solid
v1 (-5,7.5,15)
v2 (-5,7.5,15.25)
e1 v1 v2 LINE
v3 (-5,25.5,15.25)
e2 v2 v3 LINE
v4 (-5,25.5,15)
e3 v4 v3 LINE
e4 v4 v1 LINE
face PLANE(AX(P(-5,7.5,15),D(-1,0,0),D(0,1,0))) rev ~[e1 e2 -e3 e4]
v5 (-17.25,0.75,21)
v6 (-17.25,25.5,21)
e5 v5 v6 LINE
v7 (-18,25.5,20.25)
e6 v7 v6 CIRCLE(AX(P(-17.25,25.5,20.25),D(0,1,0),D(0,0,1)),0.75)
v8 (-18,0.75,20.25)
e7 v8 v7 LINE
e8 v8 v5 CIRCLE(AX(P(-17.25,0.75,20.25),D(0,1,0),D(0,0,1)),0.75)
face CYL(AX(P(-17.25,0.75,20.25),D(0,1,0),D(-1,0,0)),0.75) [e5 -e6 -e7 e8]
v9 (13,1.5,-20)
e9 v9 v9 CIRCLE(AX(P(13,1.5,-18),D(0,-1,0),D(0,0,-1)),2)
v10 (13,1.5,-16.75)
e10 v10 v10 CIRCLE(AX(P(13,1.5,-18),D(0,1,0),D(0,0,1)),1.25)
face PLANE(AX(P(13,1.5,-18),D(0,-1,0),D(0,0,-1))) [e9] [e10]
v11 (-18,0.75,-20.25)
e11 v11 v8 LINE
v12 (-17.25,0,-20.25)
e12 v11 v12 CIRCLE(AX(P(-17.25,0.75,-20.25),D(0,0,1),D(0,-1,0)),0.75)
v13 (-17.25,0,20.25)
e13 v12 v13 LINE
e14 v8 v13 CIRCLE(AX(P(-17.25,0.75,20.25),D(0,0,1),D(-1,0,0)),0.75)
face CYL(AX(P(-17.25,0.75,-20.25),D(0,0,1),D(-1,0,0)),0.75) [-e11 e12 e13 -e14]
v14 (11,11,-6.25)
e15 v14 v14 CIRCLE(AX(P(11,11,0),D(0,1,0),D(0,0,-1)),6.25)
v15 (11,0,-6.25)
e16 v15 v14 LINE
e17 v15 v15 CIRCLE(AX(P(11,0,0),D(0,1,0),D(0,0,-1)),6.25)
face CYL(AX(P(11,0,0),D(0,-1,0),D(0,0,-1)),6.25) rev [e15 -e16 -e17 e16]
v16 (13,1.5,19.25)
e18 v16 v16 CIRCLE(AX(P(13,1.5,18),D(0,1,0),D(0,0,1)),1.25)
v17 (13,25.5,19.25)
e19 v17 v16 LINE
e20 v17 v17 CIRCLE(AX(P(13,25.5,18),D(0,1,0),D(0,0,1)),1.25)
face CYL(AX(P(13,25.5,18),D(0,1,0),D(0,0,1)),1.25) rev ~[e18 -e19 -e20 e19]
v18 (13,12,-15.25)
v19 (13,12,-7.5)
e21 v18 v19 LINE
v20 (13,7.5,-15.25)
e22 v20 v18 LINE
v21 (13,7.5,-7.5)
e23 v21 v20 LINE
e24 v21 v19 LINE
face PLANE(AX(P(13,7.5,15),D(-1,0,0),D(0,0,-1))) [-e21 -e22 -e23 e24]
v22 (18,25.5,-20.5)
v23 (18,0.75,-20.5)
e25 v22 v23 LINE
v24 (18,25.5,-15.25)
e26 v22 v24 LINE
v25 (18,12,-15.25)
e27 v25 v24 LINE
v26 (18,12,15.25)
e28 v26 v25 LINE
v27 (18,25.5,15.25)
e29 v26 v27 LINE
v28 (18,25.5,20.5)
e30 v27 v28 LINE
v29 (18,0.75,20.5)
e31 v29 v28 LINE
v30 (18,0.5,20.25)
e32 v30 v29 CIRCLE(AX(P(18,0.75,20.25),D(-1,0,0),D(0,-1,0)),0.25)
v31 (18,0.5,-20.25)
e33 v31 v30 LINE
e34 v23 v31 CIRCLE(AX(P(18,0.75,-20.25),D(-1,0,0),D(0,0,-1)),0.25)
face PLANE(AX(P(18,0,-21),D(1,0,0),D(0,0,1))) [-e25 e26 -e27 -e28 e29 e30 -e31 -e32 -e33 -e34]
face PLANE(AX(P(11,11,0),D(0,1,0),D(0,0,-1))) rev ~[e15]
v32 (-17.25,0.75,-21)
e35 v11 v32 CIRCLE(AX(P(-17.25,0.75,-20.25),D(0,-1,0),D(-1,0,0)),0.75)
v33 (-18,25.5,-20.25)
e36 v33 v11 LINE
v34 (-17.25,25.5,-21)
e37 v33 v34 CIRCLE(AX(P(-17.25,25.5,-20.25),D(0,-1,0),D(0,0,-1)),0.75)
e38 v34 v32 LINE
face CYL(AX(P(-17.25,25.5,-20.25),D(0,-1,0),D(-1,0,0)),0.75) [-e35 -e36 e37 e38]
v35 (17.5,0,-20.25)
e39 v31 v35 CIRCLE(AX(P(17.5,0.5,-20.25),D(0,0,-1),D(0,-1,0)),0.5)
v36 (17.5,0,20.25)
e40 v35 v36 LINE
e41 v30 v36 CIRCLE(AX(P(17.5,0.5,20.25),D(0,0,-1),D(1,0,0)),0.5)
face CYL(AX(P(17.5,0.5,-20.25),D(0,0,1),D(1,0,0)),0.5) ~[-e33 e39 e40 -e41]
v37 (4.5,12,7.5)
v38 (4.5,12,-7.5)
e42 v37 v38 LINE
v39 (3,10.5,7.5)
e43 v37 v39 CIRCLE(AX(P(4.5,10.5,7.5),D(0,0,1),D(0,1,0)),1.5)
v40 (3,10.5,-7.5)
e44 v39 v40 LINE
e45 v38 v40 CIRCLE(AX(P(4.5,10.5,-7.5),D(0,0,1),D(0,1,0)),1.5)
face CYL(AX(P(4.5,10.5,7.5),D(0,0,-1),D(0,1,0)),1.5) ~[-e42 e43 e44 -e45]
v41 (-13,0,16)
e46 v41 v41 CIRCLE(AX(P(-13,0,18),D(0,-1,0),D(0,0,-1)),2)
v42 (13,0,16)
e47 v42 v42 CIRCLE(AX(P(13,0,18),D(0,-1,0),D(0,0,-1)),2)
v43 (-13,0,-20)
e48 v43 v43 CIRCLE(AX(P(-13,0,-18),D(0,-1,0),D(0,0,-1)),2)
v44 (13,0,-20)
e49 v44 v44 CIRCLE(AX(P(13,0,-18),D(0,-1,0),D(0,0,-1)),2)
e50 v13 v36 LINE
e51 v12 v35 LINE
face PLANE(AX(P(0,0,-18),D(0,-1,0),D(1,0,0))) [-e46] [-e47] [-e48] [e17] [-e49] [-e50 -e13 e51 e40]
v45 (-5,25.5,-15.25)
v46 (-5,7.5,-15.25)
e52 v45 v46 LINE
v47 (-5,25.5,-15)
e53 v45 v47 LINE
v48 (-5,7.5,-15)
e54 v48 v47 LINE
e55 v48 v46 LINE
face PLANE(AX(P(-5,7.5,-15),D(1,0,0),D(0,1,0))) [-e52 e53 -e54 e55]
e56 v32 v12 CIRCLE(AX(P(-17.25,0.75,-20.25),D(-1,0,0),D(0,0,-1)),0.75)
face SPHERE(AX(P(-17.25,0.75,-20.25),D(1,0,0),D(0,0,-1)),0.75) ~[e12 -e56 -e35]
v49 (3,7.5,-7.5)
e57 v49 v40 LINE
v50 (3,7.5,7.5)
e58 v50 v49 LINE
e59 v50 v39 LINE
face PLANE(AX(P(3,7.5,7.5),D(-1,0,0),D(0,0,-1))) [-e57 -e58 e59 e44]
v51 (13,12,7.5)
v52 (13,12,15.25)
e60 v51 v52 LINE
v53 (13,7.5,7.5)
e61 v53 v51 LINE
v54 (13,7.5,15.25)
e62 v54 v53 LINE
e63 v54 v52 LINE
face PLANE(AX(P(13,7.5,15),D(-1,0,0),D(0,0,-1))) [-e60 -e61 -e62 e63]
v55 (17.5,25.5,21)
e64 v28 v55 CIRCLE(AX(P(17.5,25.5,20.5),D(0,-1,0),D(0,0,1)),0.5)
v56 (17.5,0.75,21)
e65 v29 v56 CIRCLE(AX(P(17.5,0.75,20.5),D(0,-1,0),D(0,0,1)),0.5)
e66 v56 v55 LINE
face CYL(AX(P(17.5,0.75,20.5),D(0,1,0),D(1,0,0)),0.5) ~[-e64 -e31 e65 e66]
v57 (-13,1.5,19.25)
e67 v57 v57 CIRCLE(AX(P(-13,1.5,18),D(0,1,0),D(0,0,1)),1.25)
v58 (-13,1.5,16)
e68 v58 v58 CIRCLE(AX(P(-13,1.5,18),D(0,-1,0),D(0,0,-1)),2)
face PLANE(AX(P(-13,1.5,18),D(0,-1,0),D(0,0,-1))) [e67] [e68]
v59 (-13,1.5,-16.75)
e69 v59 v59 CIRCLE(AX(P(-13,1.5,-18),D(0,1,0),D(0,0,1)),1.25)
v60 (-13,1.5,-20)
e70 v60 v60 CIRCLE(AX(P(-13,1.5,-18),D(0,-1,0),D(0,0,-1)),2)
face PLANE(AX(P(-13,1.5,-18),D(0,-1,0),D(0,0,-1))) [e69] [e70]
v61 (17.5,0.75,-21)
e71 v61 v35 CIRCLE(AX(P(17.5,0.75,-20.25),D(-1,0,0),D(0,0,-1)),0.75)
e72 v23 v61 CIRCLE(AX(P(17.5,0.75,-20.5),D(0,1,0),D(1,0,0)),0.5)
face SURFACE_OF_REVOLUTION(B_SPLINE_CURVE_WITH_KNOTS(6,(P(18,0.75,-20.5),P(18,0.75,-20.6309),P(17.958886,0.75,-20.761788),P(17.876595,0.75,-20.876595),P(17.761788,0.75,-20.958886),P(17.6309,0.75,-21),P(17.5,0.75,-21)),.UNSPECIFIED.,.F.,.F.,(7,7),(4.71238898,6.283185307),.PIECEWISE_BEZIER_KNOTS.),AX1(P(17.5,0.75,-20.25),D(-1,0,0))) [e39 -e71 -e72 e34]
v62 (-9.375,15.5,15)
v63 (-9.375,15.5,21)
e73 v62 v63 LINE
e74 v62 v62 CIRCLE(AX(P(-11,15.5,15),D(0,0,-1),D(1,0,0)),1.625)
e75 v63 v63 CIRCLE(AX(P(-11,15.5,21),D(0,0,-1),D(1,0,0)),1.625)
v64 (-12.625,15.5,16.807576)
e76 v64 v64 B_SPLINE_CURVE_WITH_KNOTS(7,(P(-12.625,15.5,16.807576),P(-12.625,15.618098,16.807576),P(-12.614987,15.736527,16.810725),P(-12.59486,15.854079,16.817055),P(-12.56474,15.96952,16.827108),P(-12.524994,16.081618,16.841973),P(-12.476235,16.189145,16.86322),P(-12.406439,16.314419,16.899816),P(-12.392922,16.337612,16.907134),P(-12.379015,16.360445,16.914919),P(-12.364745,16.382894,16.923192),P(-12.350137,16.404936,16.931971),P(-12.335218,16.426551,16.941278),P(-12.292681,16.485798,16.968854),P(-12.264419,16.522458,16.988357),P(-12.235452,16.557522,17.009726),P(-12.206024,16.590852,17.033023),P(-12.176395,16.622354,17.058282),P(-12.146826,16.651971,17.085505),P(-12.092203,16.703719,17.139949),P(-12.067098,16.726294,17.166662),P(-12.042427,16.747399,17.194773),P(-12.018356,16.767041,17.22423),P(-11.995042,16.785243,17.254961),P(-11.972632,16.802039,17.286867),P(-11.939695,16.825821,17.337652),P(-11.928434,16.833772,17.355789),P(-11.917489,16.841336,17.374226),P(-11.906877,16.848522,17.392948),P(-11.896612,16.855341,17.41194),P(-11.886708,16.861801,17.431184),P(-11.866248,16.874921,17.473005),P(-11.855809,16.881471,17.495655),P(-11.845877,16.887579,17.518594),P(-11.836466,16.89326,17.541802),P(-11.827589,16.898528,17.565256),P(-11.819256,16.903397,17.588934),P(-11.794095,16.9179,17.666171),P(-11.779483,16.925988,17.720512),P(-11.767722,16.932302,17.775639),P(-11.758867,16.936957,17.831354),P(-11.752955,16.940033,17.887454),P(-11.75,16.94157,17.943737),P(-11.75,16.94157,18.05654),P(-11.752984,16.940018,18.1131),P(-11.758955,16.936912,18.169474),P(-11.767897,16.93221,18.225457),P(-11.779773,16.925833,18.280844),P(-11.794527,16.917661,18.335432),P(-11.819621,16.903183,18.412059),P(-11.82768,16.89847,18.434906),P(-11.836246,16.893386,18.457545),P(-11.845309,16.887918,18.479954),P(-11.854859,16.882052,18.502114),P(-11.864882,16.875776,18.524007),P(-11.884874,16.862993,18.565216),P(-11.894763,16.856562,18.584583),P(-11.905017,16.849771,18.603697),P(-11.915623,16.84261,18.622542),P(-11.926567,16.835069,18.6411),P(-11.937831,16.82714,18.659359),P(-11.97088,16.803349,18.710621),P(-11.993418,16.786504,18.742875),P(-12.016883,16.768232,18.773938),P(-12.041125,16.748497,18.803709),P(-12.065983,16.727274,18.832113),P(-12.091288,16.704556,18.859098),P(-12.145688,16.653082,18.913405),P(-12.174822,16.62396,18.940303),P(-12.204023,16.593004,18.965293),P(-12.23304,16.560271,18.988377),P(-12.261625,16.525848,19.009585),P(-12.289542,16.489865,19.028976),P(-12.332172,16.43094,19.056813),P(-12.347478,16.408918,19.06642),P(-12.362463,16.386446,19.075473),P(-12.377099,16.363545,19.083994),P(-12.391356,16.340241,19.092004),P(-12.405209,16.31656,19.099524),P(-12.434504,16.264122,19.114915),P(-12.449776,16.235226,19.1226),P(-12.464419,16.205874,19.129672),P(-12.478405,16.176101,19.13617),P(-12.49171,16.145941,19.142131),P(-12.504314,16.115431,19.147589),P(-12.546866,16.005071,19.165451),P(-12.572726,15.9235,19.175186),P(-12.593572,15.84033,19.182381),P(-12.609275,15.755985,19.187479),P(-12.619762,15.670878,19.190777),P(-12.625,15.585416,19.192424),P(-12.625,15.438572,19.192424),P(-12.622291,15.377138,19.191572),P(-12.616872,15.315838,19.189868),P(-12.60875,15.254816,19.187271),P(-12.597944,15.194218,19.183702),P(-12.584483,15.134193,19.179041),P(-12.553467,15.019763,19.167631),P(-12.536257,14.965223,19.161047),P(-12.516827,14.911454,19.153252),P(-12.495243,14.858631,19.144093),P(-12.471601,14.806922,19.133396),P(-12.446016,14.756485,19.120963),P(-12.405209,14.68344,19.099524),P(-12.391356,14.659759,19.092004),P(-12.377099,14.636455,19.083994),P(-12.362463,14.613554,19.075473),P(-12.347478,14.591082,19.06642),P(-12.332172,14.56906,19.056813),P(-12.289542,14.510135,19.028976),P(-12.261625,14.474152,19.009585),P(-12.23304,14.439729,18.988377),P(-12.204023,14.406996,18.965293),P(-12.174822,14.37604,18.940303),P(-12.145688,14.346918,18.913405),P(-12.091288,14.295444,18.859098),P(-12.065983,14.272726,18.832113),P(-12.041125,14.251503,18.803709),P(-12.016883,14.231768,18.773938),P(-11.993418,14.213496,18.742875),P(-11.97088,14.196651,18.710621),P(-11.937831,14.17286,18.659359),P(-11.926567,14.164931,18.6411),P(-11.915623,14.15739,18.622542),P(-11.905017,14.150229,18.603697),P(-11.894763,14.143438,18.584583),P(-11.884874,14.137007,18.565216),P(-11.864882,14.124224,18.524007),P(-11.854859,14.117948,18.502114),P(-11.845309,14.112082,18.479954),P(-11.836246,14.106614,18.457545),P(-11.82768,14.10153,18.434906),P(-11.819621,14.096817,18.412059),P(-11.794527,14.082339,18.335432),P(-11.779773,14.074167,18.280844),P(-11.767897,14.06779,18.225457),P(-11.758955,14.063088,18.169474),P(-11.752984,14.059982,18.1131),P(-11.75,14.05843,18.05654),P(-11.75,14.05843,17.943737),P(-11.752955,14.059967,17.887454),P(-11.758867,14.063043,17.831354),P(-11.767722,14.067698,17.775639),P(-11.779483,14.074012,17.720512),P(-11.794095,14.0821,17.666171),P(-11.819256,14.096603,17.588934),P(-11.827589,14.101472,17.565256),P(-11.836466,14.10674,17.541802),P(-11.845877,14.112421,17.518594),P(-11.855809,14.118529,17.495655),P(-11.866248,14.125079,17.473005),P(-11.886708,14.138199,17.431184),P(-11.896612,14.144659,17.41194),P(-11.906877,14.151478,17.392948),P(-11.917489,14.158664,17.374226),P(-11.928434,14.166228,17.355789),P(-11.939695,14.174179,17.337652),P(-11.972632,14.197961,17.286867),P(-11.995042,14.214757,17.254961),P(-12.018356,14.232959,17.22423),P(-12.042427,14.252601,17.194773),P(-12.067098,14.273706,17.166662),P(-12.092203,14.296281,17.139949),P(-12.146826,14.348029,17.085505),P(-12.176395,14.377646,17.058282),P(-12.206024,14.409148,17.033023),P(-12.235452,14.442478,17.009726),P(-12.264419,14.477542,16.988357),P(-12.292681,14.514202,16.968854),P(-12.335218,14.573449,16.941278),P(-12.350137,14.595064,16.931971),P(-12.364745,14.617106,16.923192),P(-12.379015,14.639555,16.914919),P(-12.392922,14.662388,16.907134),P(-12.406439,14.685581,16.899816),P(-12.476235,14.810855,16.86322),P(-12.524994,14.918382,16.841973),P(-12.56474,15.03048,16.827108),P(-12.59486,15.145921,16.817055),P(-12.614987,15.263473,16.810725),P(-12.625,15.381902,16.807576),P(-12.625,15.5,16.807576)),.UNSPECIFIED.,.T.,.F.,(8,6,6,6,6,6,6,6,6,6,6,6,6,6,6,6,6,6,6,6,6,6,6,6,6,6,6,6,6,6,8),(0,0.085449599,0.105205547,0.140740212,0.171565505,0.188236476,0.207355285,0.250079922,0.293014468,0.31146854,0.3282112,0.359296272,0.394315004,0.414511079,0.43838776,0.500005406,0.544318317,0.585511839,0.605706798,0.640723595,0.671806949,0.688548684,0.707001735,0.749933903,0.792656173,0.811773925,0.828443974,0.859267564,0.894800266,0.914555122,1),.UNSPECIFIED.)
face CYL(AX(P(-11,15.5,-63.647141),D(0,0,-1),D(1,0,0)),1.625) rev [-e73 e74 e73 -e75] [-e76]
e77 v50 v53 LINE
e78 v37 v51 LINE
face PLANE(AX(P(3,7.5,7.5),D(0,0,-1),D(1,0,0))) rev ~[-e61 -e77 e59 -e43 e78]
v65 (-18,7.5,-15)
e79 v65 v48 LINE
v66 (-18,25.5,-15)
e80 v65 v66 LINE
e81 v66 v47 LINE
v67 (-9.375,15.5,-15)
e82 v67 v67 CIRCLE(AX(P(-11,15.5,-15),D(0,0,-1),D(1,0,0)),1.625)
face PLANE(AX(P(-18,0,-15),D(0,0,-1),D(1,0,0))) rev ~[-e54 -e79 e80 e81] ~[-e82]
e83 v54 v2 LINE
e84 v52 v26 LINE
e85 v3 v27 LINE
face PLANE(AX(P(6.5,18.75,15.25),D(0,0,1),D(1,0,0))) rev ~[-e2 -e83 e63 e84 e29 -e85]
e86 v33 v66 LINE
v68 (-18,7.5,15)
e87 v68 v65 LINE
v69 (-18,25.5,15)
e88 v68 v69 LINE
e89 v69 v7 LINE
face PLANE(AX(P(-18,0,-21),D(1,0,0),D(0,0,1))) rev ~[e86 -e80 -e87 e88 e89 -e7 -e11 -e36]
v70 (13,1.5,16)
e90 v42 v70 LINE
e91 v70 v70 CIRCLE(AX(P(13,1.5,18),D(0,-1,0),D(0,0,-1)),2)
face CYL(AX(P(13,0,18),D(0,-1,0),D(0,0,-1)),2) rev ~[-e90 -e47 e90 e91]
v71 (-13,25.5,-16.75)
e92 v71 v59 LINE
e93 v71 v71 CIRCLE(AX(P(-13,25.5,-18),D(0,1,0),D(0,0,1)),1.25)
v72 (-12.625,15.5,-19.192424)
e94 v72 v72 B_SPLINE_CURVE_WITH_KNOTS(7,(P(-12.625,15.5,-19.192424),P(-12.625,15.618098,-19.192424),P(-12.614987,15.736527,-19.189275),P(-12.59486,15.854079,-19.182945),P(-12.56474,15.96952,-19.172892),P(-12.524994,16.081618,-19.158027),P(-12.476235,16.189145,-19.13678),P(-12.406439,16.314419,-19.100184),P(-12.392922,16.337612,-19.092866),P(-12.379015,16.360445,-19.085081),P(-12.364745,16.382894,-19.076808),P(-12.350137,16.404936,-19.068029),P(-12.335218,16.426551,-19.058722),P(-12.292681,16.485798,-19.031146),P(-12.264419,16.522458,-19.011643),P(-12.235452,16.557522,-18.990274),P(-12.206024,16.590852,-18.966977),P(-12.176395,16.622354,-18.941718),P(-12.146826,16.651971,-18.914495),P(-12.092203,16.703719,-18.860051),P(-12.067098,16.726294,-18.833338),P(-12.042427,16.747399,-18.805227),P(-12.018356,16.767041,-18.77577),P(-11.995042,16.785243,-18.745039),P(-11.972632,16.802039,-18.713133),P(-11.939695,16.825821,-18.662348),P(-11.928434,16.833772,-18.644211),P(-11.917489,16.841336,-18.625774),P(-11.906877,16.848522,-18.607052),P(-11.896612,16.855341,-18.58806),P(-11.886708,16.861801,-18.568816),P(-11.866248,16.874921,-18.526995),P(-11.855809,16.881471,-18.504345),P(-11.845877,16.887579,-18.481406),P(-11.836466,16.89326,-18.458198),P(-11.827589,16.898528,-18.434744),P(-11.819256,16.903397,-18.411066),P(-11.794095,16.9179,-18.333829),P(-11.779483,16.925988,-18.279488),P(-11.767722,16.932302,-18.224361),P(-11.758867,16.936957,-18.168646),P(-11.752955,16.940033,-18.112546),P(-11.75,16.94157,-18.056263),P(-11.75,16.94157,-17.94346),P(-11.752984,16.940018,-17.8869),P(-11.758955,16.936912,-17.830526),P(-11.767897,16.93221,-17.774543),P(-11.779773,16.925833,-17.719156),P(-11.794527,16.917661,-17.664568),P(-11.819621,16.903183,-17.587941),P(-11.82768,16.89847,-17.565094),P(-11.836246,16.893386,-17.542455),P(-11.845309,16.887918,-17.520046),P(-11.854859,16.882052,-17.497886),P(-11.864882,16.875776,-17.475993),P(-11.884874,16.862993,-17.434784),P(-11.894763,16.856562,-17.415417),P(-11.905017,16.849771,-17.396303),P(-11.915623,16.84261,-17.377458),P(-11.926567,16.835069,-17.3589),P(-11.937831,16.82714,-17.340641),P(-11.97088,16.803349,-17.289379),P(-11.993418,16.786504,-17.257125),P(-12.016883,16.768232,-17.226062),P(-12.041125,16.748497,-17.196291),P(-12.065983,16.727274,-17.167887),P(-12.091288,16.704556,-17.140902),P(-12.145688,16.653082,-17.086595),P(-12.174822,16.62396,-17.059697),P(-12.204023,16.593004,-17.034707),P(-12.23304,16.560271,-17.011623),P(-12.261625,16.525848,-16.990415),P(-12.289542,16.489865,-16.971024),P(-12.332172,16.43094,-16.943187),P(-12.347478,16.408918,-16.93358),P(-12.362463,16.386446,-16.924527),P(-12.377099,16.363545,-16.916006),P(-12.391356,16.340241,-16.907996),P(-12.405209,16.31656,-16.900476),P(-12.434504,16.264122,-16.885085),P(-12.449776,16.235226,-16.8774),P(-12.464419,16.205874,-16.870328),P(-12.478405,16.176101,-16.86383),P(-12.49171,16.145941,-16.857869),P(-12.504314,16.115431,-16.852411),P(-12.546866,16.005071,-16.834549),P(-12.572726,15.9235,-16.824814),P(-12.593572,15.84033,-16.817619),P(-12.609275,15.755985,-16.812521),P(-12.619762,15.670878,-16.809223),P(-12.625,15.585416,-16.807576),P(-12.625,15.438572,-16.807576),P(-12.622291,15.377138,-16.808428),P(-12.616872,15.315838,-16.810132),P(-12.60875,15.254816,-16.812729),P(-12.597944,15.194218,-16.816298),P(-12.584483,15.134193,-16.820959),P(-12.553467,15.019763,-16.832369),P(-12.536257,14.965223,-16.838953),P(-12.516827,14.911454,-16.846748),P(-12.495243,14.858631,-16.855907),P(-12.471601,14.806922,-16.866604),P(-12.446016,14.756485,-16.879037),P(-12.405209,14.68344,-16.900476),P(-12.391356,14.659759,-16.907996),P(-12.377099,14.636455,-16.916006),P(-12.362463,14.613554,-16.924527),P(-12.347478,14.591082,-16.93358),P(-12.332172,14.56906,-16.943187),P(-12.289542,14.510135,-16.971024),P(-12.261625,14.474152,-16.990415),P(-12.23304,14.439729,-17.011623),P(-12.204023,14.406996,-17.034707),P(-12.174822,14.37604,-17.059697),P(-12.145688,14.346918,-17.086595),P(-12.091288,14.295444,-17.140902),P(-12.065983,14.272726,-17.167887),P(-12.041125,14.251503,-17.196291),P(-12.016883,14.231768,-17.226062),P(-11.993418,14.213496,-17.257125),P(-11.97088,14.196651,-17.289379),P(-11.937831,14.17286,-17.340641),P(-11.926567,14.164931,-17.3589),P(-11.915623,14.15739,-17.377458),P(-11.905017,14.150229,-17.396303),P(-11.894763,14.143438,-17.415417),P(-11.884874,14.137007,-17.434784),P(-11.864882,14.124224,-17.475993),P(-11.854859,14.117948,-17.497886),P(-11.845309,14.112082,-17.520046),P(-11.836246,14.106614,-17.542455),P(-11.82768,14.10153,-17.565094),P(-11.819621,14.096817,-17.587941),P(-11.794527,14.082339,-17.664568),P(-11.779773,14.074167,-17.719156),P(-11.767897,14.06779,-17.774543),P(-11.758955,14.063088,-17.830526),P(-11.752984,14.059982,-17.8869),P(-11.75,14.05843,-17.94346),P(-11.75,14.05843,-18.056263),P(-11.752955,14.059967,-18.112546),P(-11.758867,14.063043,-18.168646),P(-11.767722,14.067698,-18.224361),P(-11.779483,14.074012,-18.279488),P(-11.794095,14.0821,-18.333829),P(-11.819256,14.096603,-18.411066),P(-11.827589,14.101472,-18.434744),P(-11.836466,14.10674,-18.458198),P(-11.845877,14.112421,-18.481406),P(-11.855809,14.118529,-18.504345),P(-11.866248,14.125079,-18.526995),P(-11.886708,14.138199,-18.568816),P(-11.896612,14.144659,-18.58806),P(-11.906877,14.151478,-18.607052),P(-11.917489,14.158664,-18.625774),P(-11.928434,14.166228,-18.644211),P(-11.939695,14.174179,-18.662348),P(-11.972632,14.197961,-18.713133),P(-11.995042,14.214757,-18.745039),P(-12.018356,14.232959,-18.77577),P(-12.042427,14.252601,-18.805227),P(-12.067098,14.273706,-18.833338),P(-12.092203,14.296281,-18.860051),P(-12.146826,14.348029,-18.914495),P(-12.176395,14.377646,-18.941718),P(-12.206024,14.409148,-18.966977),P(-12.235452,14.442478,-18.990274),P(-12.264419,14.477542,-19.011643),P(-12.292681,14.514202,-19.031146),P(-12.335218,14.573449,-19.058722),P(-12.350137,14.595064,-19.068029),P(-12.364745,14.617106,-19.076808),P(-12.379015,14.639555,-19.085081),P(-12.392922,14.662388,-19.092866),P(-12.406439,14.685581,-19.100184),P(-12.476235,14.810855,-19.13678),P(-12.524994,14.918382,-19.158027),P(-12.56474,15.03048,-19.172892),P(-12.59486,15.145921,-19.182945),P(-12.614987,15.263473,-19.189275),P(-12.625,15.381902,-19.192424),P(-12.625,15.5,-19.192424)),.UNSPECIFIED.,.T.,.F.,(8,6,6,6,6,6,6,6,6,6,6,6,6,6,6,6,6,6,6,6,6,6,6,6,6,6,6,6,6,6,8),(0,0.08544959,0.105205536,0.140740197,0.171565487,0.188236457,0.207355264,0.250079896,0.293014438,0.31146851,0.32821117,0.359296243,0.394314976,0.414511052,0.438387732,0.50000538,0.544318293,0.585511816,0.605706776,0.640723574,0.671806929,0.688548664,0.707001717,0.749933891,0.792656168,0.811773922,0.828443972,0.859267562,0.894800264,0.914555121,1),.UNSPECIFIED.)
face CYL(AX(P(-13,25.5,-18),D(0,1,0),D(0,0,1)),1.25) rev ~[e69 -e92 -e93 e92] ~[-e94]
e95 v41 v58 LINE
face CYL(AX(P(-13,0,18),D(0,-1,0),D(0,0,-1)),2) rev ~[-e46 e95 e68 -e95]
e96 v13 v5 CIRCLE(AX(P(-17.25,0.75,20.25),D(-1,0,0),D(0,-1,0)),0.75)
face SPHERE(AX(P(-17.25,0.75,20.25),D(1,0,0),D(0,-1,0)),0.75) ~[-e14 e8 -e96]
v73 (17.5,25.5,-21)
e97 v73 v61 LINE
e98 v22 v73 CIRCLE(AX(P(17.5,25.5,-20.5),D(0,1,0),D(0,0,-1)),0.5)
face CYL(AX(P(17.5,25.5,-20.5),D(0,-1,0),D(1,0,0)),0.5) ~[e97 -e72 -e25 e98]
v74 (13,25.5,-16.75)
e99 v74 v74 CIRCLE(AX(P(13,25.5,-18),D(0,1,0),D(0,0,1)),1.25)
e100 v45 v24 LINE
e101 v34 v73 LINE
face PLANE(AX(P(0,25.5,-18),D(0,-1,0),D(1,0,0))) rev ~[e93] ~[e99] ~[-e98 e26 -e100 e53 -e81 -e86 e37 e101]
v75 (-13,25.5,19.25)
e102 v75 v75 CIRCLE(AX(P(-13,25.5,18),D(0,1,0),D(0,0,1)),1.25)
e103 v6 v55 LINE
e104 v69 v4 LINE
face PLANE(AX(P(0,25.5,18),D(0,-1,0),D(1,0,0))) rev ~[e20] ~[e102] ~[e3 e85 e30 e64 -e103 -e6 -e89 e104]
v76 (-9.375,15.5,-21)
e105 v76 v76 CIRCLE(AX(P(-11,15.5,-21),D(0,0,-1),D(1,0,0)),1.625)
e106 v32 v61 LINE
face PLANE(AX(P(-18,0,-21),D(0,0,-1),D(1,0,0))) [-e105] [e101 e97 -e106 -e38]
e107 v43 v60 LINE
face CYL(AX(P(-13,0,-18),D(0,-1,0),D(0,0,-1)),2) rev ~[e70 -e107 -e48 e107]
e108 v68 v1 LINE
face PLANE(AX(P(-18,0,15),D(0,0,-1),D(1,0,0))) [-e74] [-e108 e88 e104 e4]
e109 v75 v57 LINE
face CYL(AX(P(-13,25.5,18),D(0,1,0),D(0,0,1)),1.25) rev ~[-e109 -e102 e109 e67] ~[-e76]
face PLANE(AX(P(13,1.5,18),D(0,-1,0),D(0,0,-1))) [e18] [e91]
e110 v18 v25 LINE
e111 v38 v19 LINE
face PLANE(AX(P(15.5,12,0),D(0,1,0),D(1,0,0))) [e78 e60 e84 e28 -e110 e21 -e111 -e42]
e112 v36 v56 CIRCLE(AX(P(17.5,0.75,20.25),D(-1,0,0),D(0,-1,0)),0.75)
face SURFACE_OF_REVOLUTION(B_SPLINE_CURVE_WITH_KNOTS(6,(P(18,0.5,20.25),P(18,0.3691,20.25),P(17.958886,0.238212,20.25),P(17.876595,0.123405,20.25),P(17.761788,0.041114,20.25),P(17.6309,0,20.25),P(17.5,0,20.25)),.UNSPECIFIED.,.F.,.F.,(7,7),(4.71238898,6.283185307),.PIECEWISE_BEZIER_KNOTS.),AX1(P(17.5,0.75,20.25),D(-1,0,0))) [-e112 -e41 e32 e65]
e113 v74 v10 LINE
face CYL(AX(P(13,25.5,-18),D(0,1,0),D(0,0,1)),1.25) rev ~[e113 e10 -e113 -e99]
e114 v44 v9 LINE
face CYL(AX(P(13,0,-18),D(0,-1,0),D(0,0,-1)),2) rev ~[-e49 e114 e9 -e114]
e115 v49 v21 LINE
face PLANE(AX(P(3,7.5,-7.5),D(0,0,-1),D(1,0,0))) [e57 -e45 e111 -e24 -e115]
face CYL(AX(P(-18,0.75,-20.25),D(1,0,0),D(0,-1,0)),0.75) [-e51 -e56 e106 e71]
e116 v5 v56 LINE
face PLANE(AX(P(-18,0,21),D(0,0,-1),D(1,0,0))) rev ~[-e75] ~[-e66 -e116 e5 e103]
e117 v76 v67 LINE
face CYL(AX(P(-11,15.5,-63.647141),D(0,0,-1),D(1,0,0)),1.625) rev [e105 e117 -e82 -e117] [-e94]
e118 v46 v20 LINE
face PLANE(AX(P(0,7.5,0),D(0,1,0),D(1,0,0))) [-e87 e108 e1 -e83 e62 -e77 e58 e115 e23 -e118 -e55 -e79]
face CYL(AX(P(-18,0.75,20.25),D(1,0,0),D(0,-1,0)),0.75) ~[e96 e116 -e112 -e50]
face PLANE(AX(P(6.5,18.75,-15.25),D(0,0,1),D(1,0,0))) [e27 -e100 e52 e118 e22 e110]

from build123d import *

# Parameters (mm, degrees)
SKETCH1_W               = 36
SKETCH1_H               = 30
BASE_PLATE_DEPTH        = 7.5
SKETCH2_W               = 36
SKETCH2_H               = 6
SIDE_WALLS_DEPTH        = 25.5
SKETCH4_R               = 1.25
M2_SCREWS_DEPTH         = 25.5
SKETCH6_W               = 5
SKETCH6_H               = 30
RETURN_STOPPER_DEPTH    = 4.5
SKETCH9_W               = 10
SKETCH9_H               = 15
BOSS_EXTRUDE1_DEPTH     = 4.5
SKETCH7_R               = 6.25
MAGNET_POCKET_DEPTH     = 11
SKETCH8_R               = 2
M2_SCREW_HEAD_DEPTH     = 1.5
M3_ACHSE_DEPTH          = 48.647140523
M3_ACHSE_DEPTH_BACK     = 48.647140523
SKETCH5_R               = 1.625
FILLET1_R               = 1.5
LEAVER_SPACE_DEPTH      = 30.25
LEAVER_SPACE_DEPTH_BACK = 0.25
SKETCH11_W              = 23
SKETCH11_H              = 13.5
SKETCH12_W              = 18
SKETCH12_H              = 4.5
MORE_SPACE_LEFT_DEPTH   = 0.25
SKETCH13_W              = 18
SKETCH13_H              = 4.5
MORE_SPACE_RIGHT_DEPTH  = 0.25
FILLET2_R               = 0.75
FILLET3_R               = 0.75
FILLET4_R               = 0.75
FILLET5_R               = 0.5


with BuildPart() as part:
    # Sketch1 → Base Plate (new body)
    with BuildSketch(Plane(origin=(0, 0, 0), x_dir=(1, 0, 0), z_dir=(0, 1, 0))):
        Rectangle(SKETCH1_W, SKETCH1_H)
    extrude(amount=BASE_PLATE_DEPTH)

    # Sketch2 → Side Walls (add)
    with BuildSketch(Plane.XZ):
        with Locations((0, -18)):
            Rectangle(SKETCH2_W, SKETCH2_H)
        with Locations((0, 18)):
            Rectangle(SKETCH2_W, SKETCH2_H)
    extrude(amount=-SIDE_WALLS_DEPTH)

    # Sketch4 → M2 Screws (cut)
    with BuildSketch(Plane(origin=(0, 25.5, 0), x_dir=(1, 0, 0), z_dir=(0, 1, 0))):
        with Locations(Location((-13, -18, 0), (0, 0, 270))):
            Circle(SKETCH4_R)
        with Locations(Location((13, -18, 0), (0, 0, 270))):
            Circle(SKETCH4_R)
        with Locations(Location((13, 18, 0), (0, 0, 270))):
            Circle(SKETCH4_R)
        with Locations(Location((-13, 18, 0), (0, 0, 270))):
            Circle(SKETCH4_R)
    extrude(amount=-M2_SCREWS_DEPTH, mode=Mode.SUBTRACT)

    # Sketch6 → Return Stopper (add)
    with BuildSketch(Plane(origin=(0, 7.5, 0), x_dir=(1, 0, 0), z_dir=(0, 1, 0))):
        with Locations((15.5, 0)):
            Rectangle(SKETCH6_W, SKETCH6_H)
    extrude(amount=RETURN_STOPPER_DEPTH)

    # Sketch9 → Boss-Extrude1 (add)
    with BuildSketch(Plane(origin=(0, 7.5, 0), x_dir=(1, 0, 0), z_dir=(0, 1, 0))):
        with Locations((8, 0)):
            Rectangle(SKETCH9_W, SKETCH9_H)
    extrude(amount=BOSS_EXTRUDE1_DEPTH)

    # Sketch7 → Magnet Pocket (cut)
    with BuildSketch(Plane(origin=(0, 0, 0), x_dir=(-1, 0, 0), z_dir=(0, 1, 0))):
        with Locations(Location((-11, 0, 0), (0, 0, 270))):
            Circle(SKETCH7_R)
    extrude(amount=MAGNET_POCKET_DEPTH, mode=Mode.SUBTRACT)

    # Sketch8 → M2 Screw Head (cut)
    with BuildSketch(Plane.XZ):
        with Locations(Location((13, -18, 0), (0, 0, 270))):
            Circle(SKETCH8_R)
        with Locations(Location((-13, -18, 0), (0, 0, 270))):
            Circle(SKETCH8_R)
        with Locations(Location((13, 18, 0), (0, 0, 270))):
            Circle(SKETCH8_R)
        with Locations(Location((-13, 18, 0), (0, 0, 270))):
            Circle(SKETCH8_R)
    extrude(amount=-M2_SCREW_HEAD_DEPTH, mode=Mode.SUBTRACT)

    # Sketch5 → M3 Achse (cut, two sides: drawn at the far end of the back side and taken through both)
    with BuildSketch(Plane.XY.offset(-15).offset(-M3_ACHSE_DEPTH_BACK)):
        with Locations((-11, 15.5)):
            Circle(SKETCH5_R)
    extrude(amount=M3_ACHSE_DEPTH + M3_ACHSE_DEPTH_BACK, mode=Mode.SUBTRACT)

    # Fillet1
    fillet1_edges = [part.edges().sort_by_distance(p)[0] for p in [
        (3, 12, 0),
    ]]
    fillet(fillet1_edges, radius=FILLET1_R)

    # Sketch11 → Leaver Space (cut, two sides: drawn at the far end of the back side and taken through both)
    with BuildSketch(Plane.XY.offset(-15).offset(-LEAVER_SPACE_DEPTH_BACK)):
        with Locations((6.5, 18.75)):
            Rectangle(SKETCH11_W, SKETCH11_H)
    extrude(amount=LEAVER_SPACE_DEPTH + LEAVER_SPACE_DEPTH_BACK, mode=Mode.SUBTRACT)

    # Sketch12 → More Space left (cut)
    with BuildSketch(Plane.XY.offset(-15)):
        with Locations((4, 9.75)):
            Rectangle(SKETCH12_W, SKETCH12_H)
    extrude(amount=-MORE_SPACE_LEFT_DEPTH, mode=Mode.SUBTRACT)

    # Sketch13 → More Space right (cut)
    with BuildSketch(Plane(origin=(0, 0, 15), x_dir=(-1, 0, 0), z_dir=(0, 0, -1))):
        with Locations((-4, 9.75)):
            Rectangle(SKETCH13_W, SKETCH13_H)
    extrude(amount=-MORE_SPACE_RIGHT_DEPTH, mode=Mode.SUBTRACT)

    # Fillet2
    fillet2_edges = [part.edges().sort_by_distance(p)[0] for p in [
        (0, 0, -21),
    ]]
    fillet(fillet2_edges, radius=FILLET2_R)

    # Fillet3
    fillet3_edges = [part.edges().sort_by_distance(p)[0] for p in [
        (0, 0, 21),
    ]]
    fillet(fillet3_edges, radius=FILLET3_R)

    # Fillet4
    fillet4_edges = [part.edges().sort_by_distance(p)[0] for p in [
        (-18, 13.125, 21),
        (-18, 0, 0),
        (-18, 0.219669914, -20.780330086),
        (-18, 0.219669914, 20.780330086),
        (-18, 13.125, -21),
    ]]
    fillet(fillet4_edges, radius=FILLET4_R)

    # Fillet5
    fillet5_edges = [part.edges().sort_by_distance(p)[0] for p in [
        (18, 13.125, 21),
        (18, 0.219669914, -20.780330086),
        (18, 0, 0),
        (18, 0.219669914, 20.780330086),
        (18, 13.125, -21),
    ]]
    fillet(fillet5_edges, radius=FILLET5_R)


solid = part.part
